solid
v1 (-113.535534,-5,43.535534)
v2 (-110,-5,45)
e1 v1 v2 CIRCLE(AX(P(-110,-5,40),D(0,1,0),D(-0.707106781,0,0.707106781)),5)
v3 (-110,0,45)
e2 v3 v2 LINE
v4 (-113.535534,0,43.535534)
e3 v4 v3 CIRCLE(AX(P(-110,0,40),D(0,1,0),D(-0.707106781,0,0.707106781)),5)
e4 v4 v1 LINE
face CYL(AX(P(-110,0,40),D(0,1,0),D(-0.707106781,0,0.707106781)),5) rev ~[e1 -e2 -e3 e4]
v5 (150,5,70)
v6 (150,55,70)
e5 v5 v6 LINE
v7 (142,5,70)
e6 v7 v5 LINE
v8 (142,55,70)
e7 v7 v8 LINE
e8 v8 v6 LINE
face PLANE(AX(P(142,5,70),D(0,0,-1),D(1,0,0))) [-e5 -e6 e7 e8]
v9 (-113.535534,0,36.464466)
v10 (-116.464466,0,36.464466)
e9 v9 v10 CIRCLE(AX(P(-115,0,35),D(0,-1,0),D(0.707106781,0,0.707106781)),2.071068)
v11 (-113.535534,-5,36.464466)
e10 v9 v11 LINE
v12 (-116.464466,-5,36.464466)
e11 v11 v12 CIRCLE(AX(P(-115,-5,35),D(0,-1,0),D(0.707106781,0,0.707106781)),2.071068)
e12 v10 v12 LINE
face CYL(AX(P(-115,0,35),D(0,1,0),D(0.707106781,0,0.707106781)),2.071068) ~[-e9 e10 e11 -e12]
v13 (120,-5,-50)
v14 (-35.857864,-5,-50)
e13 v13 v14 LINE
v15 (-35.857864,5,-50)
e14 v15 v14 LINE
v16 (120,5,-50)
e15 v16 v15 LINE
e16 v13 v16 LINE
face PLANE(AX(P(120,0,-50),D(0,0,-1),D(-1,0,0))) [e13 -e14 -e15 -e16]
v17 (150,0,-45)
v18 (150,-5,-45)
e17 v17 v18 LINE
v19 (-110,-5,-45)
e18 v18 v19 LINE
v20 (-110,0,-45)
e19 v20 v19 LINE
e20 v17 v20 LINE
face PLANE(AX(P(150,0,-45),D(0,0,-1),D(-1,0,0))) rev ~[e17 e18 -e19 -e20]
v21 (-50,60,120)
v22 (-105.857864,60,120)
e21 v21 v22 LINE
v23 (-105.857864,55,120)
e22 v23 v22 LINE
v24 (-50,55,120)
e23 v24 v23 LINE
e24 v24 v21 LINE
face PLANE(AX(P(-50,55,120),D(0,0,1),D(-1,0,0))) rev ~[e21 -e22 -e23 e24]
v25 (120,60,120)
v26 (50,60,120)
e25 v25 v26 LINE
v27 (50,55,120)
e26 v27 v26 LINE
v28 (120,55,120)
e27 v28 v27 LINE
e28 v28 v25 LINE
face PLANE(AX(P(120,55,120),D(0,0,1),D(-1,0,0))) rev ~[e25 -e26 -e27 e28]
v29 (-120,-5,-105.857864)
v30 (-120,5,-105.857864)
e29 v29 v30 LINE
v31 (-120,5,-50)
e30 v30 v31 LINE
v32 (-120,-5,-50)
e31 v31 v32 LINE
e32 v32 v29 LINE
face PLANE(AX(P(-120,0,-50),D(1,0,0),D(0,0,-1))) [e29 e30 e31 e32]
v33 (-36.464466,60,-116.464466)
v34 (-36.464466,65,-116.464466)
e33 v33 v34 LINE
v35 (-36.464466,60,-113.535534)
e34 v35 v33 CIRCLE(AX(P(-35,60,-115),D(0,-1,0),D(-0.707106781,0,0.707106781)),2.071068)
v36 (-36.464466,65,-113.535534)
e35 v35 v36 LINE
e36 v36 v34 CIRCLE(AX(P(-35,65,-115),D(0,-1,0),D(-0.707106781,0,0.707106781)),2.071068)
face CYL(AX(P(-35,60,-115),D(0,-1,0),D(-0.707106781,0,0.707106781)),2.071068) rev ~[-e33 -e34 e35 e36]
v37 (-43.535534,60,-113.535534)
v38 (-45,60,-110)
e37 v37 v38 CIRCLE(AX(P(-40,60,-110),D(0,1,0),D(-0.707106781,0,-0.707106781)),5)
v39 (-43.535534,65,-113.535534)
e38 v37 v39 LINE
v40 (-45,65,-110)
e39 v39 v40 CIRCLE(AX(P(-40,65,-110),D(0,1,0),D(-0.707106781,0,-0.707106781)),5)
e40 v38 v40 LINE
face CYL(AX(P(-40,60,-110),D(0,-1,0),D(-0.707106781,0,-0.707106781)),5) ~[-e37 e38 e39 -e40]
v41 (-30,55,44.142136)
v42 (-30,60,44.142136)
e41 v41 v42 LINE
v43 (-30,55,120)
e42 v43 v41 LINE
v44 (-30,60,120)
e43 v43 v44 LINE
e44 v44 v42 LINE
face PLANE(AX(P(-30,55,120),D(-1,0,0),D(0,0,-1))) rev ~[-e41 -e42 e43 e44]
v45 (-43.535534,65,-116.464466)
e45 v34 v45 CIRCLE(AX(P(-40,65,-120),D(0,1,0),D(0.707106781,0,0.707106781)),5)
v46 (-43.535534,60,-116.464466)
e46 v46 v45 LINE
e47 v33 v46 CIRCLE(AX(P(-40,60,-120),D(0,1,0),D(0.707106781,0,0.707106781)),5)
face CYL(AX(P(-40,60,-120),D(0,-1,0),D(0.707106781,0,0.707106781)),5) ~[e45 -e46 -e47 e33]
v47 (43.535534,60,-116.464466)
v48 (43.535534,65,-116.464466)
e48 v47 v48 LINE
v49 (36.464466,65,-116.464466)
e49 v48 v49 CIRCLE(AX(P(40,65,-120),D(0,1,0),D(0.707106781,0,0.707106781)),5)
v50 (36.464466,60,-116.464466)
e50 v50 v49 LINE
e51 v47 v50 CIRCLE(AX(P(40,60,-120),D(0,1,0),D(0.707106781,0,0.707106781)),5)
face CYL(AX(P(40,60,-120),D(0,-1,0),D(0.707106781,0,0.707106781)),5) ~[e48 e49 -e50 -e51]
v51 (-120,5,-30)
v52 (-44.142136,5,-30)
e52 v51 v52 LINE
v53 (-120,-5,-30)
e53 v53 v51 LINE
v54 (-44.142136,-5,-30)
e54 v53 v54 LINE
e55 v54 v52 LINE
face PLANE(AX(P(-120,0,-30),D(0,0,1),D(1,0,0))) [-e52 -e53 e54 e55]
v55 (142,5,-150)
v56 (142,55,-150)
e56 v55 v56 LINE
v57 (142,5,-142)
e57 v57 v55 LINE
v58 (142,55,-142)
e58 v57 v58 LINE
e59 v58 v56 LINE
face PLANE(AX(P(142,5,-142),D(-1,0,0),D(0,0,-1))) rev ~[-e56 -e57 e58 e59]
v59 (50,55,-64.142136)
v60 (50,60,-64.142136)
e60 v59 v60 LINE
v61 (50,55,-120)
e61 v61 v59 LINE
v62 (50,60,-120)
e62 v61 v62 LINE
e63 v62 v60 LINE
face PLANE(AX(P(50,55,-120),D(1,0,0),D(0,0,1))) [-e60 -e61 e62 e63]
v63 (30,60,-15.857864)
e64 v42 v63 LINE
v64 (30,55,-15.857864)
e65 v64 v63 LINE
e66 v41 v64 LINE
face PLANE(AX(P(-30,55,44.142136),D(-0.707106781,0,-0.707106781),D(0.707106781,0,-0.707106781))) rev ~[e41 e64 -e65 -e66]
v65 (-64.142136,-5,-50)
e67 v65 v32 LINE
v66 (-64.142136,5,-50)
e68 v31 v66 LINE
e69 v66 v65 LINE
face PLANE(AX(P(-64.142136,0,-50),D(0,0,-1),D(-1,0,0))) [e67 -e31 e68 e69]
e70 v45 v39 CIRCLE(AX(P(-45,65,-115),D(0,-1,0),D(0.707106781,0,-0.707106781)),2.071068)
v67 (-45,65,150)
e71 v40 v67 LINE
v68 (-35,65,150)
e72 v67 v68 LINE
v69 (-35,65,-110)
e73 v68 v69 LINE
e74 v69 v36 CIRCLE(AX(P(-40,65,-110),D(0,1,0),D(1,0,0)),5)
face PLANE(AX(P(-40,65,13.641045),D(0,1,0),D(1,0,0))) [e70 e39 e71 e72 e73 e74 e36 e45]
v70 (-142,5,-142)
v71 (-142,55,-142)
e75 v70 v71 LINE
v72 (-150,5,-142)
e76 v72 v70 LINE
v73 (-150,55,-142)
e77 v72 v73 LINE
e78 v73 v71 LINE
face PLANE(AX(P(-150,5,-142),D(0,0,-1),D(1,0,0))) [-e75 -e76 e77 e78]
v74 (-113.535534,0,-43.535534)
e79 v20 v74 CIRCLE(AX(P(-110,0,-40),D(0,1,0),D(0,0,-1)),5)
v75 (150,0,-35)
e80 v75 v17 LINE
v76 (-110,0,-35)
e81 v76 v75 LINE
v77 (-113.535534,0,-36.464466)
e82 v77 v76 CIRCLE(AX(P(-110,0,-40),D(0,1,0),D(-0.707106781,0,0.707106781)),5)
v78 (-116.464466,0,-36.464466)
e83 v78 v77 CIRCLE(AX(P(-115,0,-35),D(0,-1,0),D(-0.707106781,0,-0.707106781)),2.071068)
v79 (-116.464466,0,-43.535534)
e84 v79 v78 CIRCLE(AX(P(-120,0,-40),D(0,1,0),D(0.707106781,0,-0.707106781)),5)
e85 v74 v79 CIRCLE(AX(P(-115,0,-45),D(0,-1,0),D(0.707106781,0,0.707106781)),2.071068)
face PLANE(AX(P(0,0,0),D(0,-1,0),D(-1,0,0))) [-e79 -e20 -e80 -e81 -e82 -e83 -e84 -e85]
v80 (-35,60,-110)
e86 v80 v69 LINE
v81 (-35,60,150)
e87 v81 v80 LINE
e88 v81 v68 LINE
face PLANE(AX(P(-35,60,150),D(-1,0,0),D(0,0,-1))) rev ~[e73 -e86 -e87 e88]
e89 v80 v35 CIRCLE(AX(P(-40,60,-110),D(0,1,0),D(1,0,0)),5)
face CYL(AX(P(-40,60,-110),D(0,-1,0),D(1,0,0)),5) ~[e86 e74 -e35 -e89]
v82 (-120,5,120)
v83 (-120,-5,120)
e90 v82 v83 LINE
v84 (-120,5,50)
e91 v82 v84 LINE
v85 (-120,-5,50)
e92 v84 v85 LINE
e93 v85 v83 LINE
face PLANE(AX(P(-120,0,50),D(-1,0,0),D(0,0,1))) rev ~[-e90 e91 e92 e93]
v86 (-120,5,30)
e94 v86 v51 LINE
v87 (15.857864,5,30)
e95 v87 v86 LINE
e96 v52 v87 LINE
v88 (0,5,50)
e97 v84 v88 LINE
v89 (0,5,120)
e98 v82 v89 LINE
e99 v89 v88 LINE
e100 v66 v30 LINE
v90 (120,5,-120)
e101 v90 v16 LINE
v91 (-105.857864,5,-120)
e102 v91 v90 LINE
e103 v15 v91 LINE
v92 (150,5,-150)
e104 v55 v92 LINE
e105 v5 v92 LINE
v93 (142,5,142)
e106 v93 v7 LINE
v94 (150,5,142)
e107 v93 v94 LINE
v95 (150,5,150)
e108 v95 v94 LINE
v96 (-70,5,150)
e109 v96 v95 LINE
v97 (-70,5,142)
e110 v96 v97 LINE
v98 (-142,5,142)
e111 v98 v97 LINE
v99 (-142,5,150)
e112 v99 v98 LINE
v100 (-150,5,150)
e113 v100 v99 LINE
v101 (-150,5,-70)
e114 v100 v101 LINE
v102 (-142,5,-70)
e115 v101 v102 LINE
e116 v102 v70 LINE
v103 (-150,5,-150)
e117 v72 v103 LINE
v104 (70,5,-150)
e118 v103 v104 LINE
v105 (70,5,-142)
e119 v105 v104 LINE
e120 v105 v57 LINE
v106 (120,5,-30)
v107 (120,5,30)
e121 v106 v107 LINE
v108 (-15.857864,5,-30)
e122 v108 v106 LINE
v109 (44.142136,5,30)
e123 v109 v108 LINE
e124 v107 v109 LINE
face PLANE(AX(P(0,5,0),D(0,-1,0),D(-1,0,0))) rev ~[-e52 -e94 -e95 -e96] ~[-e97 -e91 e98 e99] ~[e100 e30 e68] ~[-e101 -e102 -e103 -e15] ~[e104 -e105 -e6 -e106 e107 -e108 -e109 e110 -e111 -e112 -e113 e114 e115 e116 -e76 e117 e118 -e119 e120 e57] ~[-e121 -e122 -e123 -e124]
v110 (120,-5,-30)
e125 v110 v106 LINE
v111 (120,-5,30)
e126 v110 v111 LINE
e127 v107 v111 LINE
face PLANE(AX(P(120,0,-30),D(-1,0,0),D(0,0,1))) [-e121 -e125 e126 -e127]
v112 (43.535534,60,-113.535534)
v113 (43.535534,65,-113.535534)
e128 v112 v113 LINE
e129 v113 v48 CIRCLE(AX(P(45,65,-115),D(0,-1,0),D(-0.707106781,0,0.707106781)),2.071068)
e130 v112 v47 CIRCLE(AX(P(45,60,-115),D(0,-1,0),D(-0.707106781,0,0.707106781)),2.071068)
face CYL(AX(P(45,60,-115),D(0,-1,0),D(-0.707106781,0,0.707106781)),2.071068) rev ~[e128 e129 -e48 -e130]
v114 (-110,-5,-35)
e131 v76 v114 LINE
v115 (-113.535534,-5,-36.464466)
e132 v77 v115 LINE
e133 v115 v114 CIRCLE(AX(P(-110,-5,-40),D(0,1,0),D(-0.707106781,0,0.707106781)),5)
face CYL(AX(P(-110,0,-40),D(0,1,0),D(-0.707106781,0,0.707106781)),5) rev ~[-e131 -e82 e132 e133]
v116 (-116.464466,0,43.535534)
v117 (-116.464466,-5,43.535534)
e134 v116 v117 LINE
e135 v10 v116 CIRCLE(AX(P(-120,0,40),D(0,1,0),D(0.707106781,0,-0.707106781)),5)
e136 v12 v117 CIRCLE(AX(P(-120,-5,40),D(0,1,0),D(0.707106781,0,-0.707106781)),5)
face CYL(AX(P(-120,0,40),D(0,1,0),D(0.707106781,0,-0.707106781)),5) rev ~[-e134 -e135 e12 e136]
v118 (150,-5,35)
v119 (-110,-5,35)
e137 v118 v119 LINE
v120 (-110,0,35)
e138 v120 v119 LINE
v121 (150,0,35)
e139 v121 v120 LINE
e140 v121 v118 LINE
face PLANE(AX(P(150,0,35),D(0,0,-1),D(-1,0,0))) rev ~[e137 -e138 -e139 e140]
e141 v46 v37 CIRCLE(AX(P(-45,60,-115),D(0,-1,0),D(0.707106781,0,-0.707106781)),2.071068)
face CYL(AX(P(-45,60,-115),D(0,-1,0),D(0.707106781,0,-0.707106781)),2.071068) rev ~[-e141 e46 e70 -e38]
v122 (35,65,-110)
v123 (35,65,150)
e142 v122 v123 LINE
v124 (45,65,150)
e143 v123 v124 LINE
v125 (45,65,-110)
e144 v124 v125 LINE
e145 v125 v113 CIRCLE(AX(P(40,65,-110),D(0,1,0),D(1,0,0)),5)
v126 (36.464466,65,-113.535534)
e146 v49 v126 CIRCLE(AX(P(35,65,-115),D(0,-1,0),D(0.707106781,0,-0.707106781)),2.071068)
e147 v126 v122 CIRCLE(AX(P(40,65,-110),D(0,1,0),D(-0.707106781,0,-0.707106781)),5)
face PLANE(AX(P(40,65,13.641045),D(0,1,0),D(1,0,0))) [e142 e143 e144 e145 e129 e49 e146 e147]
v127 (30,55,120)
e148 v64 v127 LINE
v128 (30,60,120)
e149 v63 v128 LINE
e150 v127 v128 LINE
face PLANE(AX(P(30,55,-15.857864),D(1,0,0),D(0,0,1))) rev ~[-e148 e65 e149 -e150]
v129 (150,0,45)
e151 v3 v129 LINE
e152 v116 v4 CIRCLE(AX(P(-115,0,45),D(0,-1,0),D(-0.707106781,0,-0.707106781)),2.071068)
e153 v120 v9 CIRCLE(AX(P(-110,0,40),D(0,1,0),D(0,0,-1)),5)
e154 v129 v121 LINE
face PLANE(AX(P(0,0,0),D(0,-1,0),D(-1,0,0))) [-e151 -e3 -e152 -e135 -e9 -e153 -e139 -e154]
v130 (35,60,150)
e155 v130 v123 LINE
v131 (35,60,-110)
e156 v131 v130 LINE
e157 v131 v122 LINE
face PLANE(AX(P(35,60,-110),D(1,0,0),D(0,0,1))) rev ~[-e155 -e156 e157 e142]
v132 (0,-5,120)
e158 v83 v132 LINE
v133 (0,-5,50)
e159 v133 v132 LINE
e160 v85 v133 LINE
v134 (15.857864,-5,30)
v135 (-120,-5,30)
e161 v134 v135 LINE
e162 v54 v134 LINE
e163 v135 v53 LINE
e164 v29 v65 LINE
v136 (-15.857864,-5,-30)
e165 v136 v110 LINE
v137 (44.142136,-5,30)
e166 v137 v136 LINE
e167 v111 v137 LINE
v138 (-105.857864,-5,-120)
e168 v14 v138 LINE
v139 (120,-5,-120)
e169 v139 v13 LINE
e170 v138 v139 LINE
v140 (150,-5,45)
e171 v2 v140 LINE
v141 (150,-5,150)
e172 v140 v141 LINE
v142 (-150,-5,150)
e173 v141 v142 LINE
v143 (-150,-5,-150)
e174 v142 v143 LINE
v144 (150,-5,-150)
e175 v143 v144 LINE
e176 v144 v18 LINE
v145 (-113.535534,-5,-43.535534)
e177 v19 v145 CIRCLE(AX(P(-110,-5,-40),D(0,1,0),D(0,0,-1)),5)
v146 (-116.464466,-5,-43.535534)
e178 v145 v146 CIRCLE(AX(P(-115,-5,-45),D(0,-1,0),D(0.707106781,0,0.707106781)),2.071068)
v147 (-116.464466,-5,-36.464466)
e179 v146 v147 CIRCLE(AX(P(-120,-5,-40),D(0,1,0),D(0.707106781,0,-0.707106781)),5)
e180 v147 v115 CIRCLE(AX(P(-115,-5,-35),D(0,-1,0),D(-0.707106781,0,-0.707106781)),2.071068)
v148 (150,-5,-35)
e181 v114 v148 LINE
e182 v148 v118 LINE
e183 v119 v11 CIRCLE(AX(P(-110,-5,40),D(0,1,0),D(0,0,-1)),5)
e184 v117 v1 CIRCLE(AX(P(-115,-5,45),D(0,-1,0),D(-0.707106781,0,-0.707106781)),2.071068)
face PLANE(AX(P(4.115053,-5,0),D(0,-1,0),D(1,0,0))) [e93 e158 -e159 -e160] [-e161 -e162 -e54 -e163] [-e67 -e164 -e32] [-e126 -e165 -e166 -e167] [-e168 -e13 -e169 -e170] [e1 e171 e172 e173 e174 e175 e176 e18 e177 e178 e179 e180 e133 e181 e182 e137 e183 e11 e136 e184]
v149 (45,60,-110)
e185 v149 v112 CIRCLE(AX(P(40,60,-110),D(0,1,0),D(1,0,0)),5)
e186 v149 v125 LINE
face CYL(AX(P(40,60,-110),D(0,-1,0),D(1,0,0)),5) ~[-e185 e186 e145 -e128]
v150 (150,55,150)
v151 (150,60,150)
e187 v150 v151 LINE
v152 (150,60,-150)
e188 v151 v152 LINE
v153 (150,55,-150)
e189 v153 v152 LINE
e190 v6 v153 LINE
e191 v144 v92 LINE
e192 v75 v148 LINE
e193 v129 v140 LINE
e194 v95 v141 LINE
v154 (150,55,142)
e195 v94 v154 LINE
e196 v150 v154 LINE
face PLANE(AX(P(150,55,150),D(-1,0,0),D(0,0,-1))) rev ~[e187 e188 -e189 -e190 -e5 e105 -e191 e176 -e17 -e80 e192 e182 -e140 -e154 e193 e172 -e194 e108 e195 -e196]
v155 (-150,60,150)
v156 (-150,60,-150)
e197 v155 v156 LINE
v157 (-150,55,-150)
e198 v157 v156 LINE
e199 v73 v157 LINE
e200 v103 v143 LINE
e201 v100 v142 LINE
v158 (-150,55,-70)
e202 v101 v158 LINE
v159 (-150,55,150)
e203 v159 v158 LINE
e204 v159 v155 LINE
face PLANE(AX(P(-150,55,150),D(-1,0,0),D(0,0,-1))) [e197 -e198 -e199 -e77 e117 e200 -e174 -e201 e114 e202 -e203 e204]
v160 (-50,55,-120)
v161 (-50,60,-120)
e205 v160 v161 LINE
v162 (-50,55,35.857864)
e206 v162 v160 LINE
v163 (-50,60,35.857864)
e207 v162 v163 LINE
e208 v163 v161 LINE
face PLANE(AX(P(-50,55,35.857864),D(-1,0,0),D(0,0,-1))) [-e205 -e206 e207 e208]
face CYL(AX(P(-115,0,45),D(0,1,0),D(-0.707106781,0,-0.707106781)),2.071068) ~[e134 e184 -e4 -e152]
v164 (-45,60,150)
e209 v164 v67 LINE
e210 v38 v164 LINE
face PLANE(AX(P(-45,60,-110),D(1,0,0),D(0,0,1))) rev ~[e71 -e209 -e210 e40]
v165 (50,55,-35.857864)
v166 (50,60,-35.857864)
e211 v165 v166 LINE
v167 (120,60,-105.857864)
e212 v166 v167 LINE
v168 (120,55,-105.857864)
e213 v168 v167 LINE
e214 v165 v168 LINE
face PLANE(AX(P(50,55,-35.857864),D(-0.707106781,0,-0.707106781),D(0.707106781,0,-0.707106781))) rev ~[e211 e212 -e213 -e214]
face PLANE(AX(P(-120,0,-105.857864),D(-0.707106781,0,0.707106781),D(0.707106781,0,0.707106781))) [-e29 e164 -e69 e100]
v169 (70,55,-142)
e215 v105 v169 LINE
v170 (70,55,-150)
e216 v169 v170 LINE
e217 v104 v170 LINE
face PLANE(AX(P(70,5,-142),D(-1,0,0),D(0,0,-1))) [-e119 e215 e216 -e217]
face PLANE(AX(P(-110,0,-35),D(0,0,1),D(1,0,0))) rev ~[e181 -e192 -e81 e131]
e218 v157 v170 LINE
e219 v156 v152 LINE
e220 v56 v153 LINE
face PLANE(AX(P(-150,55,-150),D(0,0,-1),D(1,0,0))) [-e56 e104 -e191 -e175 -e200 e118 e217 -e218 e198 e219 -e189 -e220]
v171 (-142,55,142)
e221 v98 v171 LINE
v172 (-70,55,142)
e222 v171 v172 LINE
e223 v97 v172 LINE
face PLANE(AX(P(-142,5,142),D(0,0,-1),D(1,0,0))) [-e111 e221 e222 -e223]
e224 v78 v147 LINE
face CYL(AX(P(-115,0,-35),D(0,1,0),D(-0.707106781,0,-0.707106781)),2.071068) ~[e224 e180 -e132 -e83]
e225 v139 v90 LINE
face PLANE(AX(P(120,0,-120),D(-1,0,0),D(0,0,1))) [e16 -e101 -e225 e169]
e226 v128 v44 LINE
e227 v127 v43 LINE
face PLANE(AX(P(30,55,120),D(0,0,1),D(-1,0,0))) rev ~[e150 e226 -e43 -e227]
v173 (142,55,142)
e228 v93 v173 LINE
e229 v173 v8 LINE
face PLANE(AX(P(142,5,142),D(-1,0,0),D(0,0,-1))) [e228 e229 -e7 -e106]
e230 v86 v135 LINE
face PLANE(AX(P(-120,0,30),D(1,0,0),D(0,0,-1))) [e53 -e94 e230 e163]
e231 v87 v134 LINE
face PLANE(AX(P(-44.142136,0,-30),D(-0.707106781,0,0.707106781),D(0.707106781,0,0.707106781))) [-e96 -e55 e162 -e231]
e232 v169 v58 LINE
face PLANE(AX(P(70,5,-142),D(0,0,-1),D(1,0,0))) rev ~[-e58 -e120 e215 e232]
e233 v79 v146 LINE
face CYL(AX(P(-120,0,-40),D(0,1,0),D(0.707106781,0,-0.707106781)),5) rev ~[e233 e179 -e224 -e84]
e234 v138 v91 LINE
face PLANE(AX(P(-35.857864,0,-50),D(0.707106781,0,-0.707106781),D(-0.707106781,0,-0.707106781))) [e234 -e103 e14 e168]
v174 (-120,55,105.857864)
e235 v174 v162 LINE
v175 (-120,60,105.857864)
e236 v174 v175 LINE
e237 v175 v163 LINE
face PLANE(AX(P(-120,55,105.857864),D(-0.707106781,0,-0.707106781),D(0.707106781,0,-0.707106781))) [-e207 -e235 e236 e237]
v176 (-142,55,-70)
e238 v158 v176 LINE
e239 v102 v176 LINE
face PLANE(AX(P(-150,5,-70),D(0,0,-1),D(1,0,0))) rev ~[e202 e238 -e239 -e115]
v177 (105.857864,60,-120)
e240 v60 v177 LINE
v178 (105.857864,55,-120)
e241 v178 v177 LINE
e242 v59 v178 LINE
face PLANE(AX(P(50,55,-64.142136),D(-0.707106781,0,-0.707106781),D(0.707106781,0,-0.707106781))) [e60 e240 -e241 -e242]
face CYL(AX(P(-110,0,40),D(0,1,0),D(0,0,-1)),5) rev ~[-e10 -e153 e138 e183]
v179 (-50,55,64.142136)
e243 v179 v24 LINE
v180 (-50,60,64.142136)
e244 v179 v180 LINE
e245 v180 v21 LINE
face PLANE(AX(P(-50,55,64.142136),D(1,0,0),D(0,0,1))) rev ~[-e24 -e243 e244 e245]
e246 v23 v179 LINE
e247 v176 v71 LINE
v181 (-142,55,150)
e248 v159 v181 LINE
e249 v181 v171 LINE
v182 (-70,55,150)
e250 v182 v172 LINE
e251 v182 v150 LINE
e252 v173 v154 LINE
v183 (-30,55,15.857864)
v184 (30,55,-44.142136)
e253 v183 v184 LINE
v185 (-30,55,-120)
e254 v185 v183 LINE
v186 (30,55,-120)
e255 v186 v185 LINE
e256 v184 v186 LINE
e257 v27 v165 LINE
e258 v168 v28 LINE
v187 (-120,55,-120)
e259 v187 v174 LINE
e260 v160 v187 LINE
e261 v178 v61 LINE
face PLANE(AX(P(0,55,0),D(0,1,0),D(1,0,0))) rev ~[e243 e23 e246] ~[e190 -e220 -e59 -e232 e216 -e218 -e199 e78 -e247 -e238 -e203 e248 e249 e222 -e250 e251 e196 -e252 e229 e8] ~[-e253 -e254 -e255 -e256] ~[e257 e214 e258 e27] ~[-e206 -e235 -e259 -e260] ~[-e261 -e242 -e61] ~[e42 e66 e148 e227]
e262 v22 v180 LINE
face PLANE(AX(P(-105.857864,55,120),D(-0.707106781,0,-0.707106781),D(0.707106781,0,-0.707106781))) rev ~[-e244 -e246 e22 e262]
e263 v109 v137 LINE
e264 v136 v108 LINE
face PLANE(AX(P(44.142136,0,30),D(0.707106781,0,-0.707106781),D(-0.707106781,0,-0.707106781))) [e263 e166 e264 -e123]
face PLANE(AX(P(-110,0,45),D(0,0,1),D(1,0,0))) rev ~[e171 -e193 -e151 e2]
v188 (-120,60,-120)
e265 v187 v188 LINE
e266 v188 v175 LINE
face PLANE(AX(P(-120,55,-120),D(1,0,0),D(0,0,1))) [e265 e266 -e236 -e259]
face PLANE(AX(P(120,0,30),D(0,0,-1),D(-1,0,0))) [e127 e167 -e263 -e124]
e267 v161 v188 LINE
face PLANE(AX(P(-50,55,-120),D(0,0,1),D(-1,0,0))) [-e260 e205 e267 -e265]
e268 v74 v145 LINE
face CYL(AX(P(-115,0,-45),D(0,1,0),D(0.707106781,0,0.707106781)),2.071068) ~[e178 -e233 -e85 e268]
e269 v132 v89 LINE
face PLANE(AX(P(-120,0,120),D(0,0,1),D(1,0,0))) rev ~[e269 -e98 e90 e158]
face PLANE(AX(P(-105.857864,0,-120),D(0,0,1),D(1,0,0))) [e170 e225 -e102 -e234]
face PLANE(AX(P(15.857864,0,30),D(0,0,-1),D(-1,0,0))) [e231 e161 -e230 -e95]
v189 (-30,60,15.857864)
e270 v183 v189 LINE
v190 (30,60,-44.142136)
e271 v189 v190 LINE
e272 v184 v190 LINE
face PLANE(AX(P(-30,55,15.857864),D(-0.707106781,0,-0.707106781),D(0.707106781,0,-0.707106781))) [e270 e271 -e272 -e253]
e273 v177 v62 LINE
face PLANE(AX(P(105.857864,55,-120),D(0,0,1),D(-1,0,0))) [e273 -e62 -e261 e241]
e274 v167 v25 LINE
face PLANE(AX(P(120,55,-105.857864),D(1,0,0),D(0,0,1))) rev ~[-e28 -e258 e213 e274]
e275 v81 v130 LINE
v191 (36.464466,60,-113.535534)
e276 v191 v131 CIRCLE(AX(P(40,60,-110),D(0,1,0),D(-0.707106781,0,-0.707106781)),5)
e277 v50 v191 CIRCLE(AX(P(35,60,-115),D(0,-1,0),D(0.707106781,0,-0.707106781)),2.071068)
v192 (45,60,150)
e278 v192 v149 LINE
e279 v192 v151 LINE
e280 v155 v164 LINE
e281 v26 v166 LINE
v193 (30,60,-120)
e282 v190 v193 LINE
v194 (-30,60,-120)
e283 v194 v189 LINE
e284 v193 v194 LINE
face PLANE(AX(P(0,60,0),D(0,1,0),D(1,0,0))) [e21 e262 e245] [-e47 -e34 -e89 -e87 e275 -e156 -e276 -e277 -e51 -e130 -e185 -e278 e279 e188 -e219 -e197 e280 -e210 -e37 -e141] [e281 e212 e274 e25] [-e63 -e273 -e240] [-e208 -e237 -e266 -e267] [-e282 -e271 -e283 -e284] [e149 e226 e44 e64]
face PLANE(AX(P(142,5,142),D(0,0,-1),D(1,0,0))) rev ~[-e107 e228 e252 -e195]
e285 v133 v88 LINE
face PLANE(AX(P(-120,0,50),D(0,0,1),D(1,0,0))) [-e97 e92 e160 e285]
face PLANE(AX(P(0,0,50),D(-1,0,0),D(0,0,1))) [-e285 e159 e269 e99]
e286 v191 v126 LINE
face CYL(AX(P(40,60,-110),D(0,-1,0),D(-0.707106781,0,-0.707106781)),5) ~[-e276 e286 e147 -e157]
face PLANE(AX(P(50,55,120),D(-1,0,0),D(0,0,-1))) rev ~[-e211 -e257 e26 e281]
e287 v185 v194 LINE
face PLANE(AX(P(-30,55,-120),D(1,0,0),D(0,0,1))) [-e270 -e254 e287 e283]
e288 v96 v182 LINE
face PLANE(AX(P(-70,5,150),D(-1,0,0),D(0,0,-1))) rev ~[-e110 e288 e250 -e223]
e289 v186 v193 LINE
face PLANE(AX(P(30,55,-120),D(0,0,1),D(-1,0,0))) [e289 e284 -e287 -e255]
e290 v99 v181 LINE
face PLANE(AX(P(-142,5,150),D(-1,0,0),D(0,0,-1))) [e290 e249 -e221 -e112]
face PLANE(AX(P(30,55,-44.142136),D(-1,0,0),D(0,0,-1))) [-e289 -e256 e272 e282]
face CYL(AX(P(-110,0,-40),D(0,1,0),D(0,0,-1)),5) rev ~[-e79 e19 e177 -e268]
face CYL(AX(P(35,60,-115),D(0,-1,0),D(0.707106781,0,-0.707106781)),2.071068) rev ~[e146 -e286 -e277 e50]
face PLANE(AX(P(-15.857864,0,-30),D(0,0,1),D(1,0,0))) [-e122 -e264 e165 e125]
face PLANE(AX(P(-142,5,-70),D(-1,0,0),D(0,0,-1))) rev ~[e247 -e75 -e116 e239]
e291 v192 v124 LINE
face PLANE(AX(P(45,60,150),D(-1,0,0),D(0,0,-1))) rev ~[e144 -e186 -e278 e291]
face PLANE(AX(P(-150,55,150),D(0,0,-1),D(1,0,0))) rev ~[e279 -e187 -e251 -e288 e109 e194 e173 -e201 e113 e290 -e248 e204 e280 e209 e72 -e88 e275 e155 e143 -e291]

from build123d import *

# Parameters (mm, degrees)
SKETCH_1_W      = 120
SKETCH_1_H      = 70
EXTRUDE_1_DEPTH = 5
SKETCH_2_W      = 120
SKETCH_2_H      = 70
EXTRUDE_2_DEPTH = 5
SKETCH_3_W      = 8
SKETCH_3_H      = 72
SKETCH_3_W_2    = 72
SKETCH_3_H_2    = 8
EXTRUDE_3_DEPTH = 50
SKETCH_4_W      = 300
SKETCH_4_H      = 300
EXTRUDE_4_DEPTH = 5
EXTRUDE_5_DEPTH = 5


with BuildPart() as part:
    # 草图1 → 凸台-拉伸1 (new body)
    with BuildSketch(Plane(origin=(0, 0, 0), x_dir=(1, 0, 0), z_dir=(0, 1, 0))):
        Polygon((-150, 150), (150, 150), (150, -30), (150, -150), (0, -150), (-150, -150), align=None)
        Polygon((-15.857864376, 30), (120, 30), (120, -30), (44.142135624, -30), align=None, mode=Mode.SUBTRACT)
        Polygon((-105.857864376, 120), (120, 120), (120, 50), (-35.857864376, 50), align=None, mode=Mode.SUBTRACT)
        Polygon((-120, 105.857864376), (-120, 50), (-64.142135624, 50), align=None, mode=Mode.SUBTRACT)
        with Locations((-60, -85)):
            Rectangle(SKETCH_1_W, SKETCH_1_H, mode=Mode.SUBTRACT)
        Polygon((-120, 30), (-44.142135624, 30), (15.857864376, -30), (-120, -30), align=None, mode=Mode.SUBTRACT)
    extrude(amount=EXTRUDE_1_DEPTH)

    # 草图2 → 凸台-拉伸2 (add)
    with BuildSketch(Plane.XZ):
        with BuildLine():
            Line((150, 45), (150, 150))
            Line((150, 150), (-150, 150))
            Line((-150, 150), (-150, -150))
            Line((-150, -150), (150, -150))
            Line((150, -150), (150, -45))
            Line((150, -45), (-110, -45))
            ThreePointArc((-110, -45), (-111.913417162, -44.619397663), (-113.535533906, -43.535533906))
            ThreePointArc((-113.535533906, -43.535533906), (-115, -42.928932188), (-116.464466094, -43.535533906))
            ThreePointArc((-116.464466094, -43.535533906), (-125, -40), (-116.464466094, -36.464466094))
            ThreePointArc((-116.464466094, -36.464466094), (-115, -37.071067812), (-113.535533906, -36.464466094))
            ThreePointArc((-113.535533906, -36.464466094), (-111.913417162, -35.380602337), (-110, -35))
            Line((-110, -35), (150, -35))
            Line((150, -35), (150, 35))
            Line((150, 35), (-110, 35))
            ThreePointArc((-110, 35), (-111.913417162, 35.380602337), (-113.535533906, 36.464466094))
            ThreePointArc((-113.535533906, 36.464466094), (-115, 37.071067812), (-116.464466094, 36.464466094))
            ThreePointArc((-116.464466094, 36.464466094), (-125, 40), (-116.464466094, 43.535533906))
            ThreePointArc((-116.464466094, 43.535533906), (-115, 42.928932188), (-113.535533906, 43.535533906))
            ThreePointArc((-113.535533906, 43.535533906), (-111.913417162, 44.619397663), (-110, 45))
            Line((-110, 45), (150, 45))
        make_face()
        with Locations((-60, 85)):
            Rectangle(SKETCH_2_W, SKETCH_2_H, mode=Mode.SUBTRACT)
        Polygon((-120, 30), (-120, -30), (-44.142135624, -30), (15.857864376, 30), align=None, mode=Mode.SUBTRACT)
        Polygon((44.142135624, 30), (-15.857864376, -30), (120, -30), (120, 30), align=None, mode=Mode.SUBTRACT)
        Polygon((-120, -50), (-120, -105.857864376), (-64.142135624, -50), align=None, mode=Mode.SUBTRACT)
        Polygon((-35.857864376, -50), (-105.857864376, -120), (120, -120), (120, -50), align=None, mode=Mode.SUBTRACT)
    extrude(amount=EXTRUDE_2_DEPTH)

    # 草图3 → 凸台-拉伸3 (add)
    with BuildSketch(Plane(origin=(0, 5, 0), x_dir=(1, 0, 0), z_dir=(0, 1, 0))):
        with Locations((146, -106)):
            Rectangle(SKETCH_3_W, SKETCH_3_H)
        with Locations((-106, -146)):
            Rectangle(SKETCH_3_W_2, SKETCH_3_H_2)
        with Locations((-146, 106)):
            Rectangle(SKETCH_3_W, SKETCH_3_H)
        with Locations((106, 146)):
            Rectangle(SKETCH_3_W_2, SKETCH_3_H_2)
    extrude(amount=EXTRUDE_3_DEPTH)

    # 草图4 → 凸台-拉伸4 (add)
    with BuildSketch(Plane(origin=(0, 55, 0), x_dir=(1, 0, 0), z_dir=(0, 1, 0))):
        Rectangle(SKETCH_4_W, SKETCH_4_H)
        Polygon((30, 120), (-30, 120), (-30, -15.857864376), (30, 44.142135624), align=None, mode=Mode.SUBTRACT)
        Polygon((105.857864376, 120), (50, 120), (50, 64.142135624), align=None, mode=Mode.SUBTRACT)
        Polygon((120, 105.857864376), (120, -120), (50, -120), (50, 35.857864376), align=None, mode=Mode.SUBTRACT)
        Polygon((-120, 120), (-120, -105.857864376), (-50, -35.857864376), (-50, 120), align=None, mode=Mode.SUBTRACT)
        Polygon((-50, -120), (-105.857864376, -120), (-50, -64.142135624), align=None, mode=Mode.SUBTRACT)
        Polygon((30, -120), (-30, -120), (-30, -44.142135624), (30, 15.857864376), align=None, mode=Mode.SUBTRACT)
    extrude(amount=EXTRUDE_4_DEPTH)

    # 草图5 → 凸台-拉伸5 (add)
    with BuildSketch(Plane(origin=(0, 60, 0), x_dir=(1, 0, 0), z_dir=(0, 1, 0))):
        with BuildLine():
            Line((35, 110), (35, -150))
            Line((35, -150), (45, -150))
            Line((45, -150), (45, 110))
            ThreePointArc((45, 110), (44.619397663, 111.913417162), (43.535533906, 113.535533906))
            ThreePointArc((43.535533906, 113.535533906), (42.928932188, 115), (43.535533906, 116.464466094))
            ThreePointArc((43.535533906, 116.464466094), (40, 125), (36.464466094, 116.464466094))
            ThreePointArc((36.464466094, 116.464466094), (37.071067812, 115), (36.464466094, 113.535533906))
            ThreePointArc((36.464466094, 113.535533906), (35.380602337, 111.913417162), (35, 110))
        make_face()
        with BuildLine():
            Line((-45, -150), (-35, -150))
            Line((-35, -150), (-35, 110))
            ThreePointArc((-35, 110), (-35.380602337, 111.913417162), (-36.464466094, 113.535533906))
            ThreePointArc((-36.464466094, 113.535533906), (-37.071067812, 115), (-36.464466094, 116.464466094))
            ThreePointArc((-36.464466094, 116.464466094), (-40, 125), (-43.535533906, 116.464466094))
            ThreePointArc((-43.535533906, 116.464466094), (-42.928932188, 115), (-43.535533906, 113.535533906))
            ThreePointArc((-43.535533906, 113.535533906), (-44.619397663, 111.913417162), (-45, 110))
            Line((-45, 110), (-45, -150))
        make_face()
    extrude(amount=EXTRUDE_5_DEPTH)


solid = part.part
